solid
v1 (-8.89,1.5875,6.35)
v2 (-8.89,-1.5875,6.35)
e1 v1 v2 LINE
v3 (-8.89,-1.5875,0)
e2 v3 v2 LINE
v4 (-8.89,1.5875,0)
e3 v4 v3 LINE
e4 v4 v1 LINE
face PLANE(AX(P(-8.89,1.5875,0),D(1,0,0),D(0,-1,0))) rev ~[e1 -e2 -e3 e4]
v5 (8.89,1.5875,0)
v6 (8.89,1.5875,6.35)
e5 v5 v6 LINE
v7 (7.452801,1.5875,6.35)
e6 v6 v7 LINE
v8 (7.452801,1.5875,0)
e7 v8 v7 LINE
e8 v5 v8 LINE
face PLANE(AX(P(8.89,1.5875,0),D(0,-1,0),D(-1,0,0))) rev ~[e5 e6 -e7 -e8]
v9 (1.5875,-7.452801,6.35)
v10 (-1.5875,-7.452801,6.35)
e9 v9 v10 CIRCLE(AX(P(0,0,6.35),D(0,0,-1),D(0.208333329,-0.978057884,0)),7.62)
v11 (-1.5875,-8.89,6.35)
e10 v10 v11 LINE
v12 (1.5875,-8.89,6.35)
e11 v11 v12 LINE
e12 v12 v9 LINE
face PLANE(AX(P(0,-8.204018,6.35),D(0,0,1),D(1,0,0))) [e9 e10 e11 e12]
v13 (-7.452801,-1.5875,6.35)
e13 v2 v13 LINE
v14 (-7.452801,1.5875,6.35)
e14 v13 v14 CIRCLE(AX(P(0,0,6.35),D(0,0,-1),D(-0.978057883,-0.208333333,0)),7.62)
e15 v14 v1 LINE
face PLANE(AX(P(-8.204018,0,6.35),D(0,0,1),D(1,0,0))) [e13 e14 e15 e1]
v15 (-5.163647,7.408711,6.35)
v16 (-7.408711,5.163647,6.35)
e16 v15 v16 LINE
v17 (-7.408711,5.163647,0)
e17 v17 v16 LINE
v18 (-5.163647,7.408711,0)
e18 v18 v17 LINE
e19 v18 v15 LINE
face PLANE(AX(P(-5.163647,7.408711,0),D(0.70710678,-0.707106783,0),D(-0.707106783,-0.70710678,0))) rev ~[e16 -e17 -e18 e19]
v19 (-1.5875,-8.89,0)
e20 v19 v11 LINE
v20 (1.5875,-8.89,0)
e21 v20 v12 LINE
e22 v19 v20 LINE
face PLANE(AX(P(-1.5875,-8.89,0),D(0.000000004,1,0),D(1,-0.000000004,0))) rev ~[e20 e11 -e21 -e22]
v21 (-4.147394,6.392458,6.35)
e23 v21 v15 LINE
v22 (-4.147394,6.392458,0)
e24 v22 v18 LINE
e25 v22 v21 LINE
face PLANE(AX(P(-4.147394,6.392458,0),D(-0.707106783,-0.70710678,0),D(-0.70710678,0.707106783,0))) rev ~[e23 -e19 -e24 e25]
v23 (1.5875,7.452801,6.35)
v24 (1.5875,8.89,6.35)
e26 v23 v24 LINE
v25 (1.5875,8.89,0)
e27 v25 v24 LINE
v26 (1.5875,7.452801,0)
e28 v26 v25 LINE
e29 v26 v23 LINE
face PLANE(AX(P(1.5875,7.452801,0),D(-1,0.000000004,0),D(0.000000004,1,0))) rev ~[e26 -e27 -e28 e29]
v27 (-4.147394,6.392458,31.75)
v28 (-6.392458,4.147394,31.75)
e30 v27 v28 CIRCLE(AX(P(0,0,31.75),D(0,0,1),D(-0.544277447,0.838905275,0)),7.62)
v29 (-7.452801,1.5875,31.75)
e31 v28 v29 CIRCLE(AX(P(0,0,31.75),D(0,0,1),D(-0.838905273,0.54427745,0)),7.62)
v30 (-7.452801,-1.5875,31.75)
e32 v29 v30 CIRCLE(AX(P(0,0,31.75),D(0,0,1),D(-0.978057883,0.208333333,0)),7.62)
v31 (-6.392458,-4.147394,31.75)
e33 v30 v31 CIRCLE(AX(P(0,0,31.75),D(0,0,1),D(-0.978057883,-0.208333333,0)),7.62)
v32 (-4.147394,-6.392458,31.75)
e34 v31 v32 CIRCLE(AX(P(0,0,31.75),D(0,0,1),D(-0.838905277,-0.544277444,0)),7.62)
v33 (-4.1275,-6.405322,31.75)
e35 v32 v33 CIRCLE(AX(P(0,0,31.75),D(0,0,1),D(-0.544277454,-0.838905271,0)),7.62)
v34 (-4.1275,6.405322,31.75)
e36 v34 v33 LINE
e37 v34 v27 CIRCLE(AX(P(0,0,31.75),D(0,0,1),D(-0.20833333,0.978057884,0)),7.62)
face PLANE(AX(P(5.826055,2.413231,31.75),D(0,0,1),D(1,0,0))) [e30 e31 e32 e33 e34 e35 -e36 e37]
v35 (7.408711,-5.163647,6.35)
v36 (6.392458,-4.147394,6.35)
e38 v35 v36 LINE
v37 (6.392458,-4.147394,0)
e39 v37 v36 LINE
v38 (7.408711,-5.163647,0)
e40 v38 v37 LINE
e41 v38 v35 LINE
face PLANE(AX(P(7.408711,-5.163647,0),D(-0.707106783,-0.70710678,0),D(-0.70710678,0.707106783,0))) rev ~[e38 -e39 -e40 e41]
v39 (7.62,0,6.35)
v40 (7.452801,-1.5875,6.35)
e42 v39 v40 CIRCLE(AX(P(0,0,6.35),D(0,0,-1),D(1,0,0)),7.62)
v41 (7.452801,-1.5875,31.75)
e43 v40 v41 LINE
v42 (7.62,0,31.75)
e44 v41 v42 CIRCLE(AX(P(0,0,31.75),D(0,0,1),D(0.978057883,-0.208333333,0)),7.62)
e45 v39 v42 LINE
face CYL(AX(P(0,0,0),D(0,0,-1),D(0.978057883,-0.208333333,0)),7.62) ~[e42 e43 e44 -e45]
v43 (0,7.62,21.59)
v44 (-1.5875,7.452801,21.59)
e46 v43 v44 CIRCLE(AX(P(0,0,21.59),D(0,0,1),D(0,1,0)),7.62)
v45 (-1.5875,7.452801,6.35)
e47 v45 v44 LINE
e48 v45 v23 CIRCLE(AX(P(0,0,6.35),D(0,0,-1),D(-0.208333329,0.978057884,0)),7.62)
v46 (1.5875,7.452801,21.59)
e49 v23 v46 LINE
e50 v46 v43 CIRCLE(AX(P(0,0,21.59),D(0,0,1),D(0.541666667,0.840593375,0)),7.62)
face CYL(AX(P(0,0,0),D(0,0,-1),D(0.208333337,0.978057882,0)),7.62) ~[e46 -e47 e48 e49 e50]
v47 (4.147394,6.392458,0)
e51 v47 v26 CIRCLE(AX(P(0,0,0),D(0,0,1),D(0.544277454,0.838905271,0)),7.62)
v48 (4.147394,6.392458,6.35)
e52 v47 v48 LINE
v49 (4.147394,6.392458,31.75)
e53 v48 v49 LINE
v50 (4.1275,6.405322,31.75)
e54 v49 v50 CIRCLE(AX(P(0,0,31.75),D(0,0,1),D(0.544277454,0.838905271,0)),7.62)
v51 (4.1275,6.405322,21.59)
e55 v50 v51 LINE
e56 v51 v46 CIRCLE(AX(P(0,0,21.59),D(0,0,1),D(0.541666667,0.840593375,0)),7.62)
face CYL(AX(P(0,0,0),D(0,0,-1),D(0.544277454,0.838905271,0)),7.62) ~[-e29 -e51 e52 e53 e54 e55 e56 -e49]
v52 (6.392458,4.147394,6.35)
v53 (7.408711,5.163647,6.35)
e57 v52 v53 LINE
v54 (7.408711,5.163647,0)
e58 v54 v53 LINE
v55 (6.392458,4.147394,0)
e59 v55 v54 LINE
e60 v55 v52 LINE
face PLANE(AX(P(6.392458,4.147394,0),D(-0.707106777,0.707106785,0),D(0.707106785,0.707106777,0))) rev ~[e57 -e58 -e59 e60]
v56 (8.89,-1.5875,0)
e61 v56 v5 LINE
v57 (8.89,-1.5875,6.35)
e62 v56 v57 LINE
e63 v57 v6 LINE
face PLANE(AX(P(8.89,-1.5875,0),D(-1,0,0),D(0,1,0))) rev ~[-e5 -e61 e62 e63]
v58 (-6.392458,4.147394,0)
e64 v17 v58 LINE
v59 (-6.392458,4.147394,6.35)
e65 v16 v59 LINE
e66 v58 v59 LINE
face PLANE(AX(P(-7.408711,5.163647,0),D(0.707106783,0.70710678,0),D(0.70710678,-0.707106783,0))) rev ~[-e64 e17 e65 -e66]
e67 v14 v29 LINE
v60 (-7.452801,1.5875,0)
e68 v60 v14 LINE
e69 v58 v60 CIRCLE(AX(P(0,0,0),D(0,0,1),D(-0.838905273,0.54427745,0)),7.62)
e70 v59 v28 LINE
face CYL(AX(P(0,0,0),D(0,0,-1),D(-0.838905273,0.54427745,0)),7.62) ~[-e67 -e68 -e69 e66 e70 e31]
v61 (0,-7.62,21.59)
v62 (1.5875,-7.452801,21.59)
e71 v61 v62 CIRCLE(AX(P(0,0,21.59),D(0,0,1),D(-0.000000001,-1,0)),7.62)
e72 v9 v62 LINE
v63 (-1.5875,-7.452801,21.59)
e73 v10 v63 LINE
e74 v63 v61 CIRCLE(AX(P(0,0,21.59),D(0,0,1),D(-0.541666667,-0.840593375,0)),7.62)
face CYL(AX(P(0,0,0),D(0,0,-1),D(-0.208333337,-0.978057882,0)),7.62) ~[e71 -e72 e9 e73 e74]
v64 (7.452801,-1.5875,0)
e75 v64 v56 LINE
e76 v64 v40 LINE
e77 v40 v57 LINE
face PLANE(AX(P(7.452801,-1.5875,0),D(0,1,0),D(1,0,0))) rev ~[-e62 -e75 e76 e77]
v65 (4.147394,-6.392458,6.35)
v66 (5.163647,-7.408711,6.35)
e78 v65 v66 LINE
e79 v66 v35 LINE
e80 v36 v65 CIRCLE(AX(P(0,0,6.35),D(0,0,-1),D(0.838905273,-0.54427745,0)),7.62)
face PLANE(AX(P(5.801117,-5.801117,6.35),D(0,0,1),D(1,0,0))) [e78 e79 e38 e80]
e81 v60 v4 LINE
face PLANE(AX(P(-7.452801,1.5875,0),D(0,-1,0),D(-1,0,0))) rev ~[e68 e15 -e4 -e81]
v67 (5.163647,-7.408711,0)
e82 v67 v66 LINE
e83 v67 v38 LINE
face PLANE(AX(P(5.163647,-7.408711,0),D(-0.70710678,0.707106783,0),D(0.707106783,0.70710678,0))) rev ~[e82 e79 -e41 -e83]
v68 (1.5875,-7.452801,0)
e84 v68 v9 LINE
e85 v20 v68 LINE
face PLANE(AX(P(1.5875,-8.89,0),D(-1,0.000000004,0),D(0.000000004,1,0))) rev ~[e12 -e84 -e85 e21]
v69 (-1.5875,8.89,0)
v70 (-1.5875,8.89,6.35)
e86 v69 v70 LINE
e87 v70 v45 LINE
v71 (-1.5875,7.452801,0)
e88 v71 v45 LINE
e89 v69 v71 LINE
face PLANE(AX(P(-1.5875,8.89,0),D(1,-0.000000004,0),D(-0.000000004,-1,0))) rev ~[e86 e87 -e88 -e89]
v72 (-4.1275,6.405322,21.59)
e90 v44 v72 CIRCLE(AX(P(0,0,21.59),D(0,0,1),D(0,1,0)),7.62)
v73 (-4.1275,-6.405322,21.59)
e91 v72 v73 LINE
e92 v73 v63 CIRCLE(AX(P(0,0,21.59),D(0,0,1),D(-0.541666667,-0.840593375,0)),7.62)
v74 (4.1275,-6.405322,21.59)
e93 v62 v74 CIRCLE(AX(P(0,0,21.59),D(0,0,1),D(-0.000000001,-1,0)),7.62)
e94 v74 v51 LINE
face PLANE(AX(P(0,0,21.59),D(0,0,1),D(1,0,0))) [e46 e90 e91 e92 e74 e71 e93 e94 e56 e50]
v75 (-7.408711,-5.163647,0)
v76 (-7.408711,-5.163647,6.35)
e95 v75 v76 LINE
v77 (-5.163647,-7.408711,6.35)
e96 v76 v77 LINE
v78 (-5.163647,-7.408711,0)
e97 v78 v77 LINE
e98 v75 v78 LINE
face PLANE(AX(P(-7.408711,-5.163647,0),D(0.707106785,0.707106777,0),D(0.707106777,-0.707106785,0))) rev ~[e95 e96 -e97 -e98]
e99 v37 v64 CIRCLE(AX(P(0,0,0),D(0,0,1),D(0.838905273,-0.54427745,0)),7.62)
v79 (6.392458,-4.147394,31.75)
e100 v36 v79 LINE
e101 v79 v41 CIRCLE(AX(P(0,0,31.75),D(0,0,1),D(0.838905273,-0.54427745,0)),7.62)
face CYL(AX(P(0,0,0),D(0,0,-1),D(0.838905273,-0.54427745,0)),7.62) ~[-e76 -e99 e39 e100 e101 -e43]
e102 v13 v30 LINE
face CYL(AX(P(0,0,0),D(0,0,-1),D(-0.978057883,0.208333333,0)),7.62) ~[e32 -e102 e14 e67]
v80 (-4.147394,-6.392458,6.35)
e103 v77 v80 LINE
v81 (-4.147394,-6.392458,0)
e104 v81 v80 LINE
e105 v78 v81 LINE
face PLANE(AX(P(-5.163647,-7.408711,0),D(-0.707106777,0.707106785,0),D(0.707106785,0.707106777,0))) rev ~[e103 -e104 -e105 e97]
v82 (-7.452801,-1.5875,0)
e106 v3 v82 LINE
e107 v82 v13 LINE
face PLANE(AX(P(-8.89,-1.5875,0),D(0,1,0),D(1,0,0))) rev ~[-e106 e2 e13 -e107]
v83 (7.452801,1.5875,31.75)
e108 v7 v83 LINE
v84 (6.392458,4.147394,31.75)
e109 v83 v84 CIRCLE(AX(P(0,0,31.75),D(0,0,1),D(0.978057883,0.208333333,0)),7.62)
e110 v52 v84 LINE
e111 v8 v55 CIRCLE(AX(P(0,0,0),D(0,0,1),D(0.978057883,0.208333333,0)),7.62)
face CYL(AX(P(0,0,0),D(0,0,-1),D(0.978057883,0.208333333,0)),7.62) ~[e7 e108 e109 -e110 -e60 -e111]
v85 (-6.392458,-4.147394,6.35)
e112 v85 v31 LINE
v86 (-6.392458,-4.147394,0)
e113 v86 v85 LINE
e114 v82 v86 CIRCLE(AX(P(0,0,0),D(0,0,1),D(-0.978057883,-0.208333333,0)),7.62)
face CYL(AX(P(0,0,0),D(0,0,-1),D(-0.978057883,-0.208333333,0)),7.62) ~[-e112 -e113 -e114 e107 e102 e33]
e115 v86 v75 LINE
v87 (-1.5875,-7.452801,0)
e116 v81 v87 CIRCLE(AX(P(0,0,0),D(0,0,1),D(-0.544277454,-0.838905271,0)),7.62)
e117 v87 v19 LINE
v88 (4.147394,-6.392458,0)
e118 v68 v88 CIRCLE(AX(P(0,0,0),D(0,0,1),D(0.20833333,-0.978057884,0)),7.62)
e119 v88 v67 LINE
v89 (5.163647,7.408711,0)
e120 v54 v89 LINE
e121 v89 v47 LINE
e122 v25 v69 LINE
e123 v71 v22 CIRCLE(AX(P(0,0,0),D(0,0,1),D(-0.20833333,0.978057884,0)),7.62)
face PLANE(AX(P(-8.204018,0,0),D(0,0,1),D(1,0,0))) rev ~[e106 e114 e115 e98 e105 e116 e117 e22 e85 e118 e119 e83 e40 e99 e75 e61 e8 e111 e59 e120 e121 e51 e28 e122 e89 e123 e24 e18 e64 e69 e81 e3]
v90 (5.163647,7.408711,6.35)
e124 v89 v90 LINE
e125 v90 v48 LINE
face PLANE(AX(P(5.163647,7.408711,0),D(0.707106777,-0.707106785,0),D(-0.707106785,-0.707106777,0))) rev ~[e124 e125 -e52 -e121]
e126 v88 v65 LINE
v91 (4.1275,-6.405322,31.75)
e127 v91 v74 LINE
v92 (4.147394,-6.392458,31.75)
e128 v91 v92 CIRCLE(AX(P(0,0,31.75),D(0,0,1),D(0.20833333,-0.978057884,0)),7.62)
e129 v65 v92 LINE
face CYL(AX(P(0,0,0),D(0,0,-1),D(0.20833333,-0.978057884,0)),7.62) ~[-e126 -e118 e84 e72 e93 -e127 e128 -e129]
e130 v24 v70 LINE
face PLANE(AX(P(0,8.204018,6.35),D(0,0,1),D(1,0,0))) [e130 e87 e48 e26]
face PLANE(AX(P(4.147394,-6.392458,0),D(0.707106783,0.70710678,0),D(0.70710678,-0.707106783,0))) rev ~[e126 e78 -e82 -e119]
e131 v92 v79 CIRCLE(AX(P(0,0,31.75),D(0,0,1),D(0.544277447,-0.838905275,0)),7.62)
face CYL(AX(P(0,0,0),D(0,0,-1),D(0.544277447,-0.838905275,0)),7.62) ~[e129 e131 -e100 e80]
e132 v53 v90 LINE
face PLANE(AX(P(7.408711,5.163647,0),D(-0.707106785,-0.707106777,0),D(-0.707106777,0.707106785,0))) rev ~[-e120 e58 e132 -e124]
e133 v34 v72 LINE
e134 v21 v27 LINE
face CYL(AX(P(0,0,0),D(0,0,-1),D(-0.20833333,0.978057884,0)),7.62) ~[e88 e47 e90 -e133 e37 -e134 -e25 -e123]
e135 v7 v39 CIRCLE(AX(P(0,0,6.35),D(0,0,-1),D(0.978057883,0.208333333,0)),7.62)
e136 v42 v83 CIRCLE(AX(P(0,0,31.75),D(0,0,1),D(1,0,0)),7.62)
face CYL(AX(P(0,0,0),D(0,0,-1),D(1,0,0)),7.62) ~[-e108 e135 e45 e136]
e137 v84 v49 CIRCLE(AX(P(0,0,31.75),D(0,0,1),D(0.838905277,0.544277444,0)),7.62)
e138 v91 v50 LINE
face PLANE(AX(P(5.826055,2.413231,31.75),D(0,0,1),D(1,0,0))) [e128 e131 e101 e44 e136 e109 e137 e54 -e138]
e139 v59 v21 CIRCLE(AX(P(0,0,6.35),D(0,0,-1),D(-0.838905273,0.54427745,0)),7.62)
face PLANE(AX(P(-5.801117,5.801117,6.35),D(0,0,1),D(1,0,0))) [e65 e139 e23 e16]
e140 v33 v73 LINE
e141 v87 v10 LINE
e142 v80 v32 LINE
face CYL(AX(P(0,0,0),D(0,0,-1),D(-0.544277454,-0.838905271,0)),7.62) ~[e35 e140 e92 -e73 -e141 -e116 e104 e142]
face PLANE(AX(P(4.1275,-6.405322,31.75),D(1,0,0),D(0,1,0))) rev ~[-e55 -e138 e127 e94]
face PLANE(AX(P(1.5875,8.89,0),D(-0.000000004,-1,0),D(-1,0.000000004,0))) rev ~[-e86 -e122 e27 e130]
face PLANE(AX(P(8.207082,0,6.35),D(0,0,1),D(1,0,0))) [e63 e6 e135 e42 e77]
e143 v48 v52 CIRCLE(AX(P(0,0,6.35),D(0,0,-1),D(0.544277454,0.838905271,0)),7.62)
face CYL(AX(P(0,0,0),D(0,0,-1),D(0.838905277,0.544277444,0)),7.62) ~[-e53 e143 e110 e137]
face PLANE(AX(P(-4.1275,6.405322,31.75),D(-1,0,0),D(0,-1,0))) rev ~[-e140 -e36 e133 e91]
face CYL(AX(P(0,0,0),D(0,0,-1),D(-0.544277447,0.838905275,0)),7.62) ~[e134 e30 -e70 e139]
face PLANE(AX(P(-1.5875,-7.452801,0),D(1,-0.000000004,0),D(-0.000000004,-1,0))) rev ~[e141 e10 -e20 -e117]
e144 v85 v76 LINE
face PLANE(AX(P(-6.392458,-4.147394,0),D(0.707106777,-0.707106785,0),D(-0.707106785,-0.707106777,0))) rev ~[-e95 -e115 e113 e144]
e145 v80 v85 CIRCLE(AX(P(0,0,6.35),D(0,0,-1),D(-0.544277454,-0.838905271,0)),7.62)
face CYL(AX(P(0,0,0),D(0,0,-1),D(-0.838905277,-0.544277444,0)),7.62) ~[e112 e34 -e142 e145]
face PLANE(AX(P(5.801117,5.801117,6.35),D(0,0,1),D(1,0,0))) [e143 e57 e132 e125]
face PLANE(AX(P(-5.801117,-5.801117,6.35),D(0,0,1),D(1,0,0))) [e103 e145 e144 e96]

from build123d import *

# Parameters (mm, degrees)
F1_DEPTH = 31.75
F2_DEPTH = 6.35
F4_DEPTH = 10.16


with BuildPart() as f1:
    # F0 (on Top) → F1 (new body)
    with BuildSketch(Plane.XY):
        with BuildLine():
            Line((3.8325640626, 1.5875), (7.4528010674, 1.5875))
            ThreePointArc((7.4528010674, 1.5875), (7.0399620464, 2.9160477336), (6.3924582134, 4.1473941203))
            Line((6.3924582134, 4.1473941203), (3.8325640626, 1.5875))
        make_face()
        with BuildLine():
            Line((3.8325640626, 1.5875), (6.3924582134, 4.1473941203))
            ThreePointArc((6.3924582134, 4.1473941203), (5.3881537048, 5.3881536405), (4.1473941966, 6.392458164))
            Line((4.1473941966, 6.392458164), (1.5875000152, 3.8325640132))
            Line((1.5875000152, 3.8325640132), (1.5875000063, 1.5875))
            Line((1.5875000063, 1.5875), (3.8325640626, 1.5875))
        make_face()
        with BuildLine():
            Line((1.5875000152, 3.8325640132), (4.1473941966, 6.392458164))
            ThreePointArc((4.1473941966, 6.392458164), (2.9160477896, 7.0399620232), (1.5875000296, 7.4528010611))
            Line((1.5875000296, 7.4528010611), (1.5875000152, 3.8325640132))
        make_face()
        with BuildLine():
            Line((1.5875000152, 3.8325640132), (1.5875000296, 7.4528010611))
            ThreePointArc((1.5875000296, 7.4528010611), (3.03e-08, 7.62), (-1.5874999704, 7.4528010737))
            Line((-1.5874999704, 7.4528010737), (-1.5874999848, 3.8325640258))
            Line((-1.5874999848, 3.8325640258), (8.9e-09, 2.2450640258))
            Line((8.9e-09, 2.2450640258), (1.5875000152, 3.8325640132))
        make_face()
        with BuildLine():
            Line((-1.5874999848, 3.8325640258), (-1.5874999704, 7.4528010737))
            ThreePointArc((-1.5874999704, 7.4528010737), (-2.9160477336, 7.0399620464), (-4.1473941457, 6.392458197))
            Line((-4.1473941457, 6.392458197), (-1.5874999848, 3.8325640258))
        make_face()
        with BuildLine():
            Line((-1.5874999848, 3.8325640258), (-4.1473941457, 6.392458197))
            ThreePointArc((-4.1473941457, 6.392458197), (-5.3881536619, 5.3881536834), (-6.3924581805, 4.1473941712))
            Line((-6.3924581805, 4.1473941712), (-3.8325640195, 1.5875))
            Line((-3.8325640195, 1.5875), (-1.5874999937, 1.5875))
            Line((-1.5874999937, 1.5875), (-1.5874999848, 3.8325640258))
        make_face()
        with BuildLine():
            Line((-3.8325640195, 1.5875), (-6.3924581805, 4.1473941712))
            ThreePointArc((-6.3924581805, 4.1473941712), (-7.0399620348, 2.9160477616), (-7.4528010674, 1.5875))
            Line((-7.4528010674, 1.5875), (-3.8325640195, 1.5875))
        make_face()
        with BuildLine():
            Line((-2.2450640347, 8.9e-09), (-3.8325640195, 1.5875))
            Line((-3.8325640195, 1.5875), (-7.4528010674, 1.5875))
            ThreePointArc((-7.4528010674, 1.5875), (-7.62, 0), (-7.4528010674, -1.5875))
            Line((-7.4528010674, -1.5875), (-3.8325640626, -1.5875))
            Line((-3.8325640626, -1.5875), (-2.2450640347, 8.9e-09))
        make_face()
        with BuildLine():
            ThreePointArc((-7.4528010674, -1.5875), (-7.0399620464, -2.9160477336), (-6.3924582134, -4.1473941203))
            Line((-6.3924582134, -4.1473941203), (-3.8325640626, -1.5875))
            Line((-3.8325640626, -1.5875), (-7.4528010674, -1.5875))
        make_face()
        with BuildLine():
            ThreePointArc((-6.3924582134, -4.1473941203), (-5.3881537048, -5.3881536405), (-4.1473941966, -6.392458164))
            Line((-4.1473941966, -6.392458164), (-1.5875000152, -3.8325640132))
            Line((-1.5875000152, -3.8325640132), (-1.5875000063, -1.5875))
            Line((-1.5875000063, -1.5875), (-3.8325640626, -1.5875))
            Line((-3.8325640626, -1.5875), (-6.3924582134, -4.1473941203))
        make_face()
        with BuildLine():
            ThreePointArc((-4.1473941966, -6.392458164), (-2.9160477896, -7.0399620232), (-1.5875000296, -7.4528010611))
            Line((-1.5875000296, -7.4528010611), (-1.5875000152, -3.8325640132))
            Line((-1.5875000152, -3.8325640132), (-4.1473941966, -6.392458164))
        make_face()
        with BuildLine():
            ThreePointArc((-1.5875000296, -7.4528010611), (-3.03e-08, -7.62), (1.5874999704, -7.4528010737))
            Line((1.5874999704, -7.4528010737), (1.5874999848, -3.8325640258))
            Line((1.5874999848, -3.8325640258), (-8.9e-09, -2.2450640258))
            Line((-8.9e-09, -2.2450640258), (-1.5875000152, -3.8325640132))
            Line((-1.5875000152, -3.8325640132), (-1.5875000296, -7.4528010611))
        make_face()
        with BuildLine():
            ThreePointArc((1.5874999704, -7.4528010737), (2.9160477336, -7.0399620464), (4.1473941457, -6.392458197))
            Line((4.1473941457, -6.392458197), (1.5874999848, -3.8325640258))
            Line((1.5874999848, -3.8325640258), (1.5874999704, -7.4528010737))
        make_face()
        with BuildLine():
            ThreePointArc((4.1473941457, -6.392458197), (5.3881536619, -5.3881536834), (6.3924581805, -4.1473941712))
            Line((6.3924581805, -4.1473941712), (3.8325640195, -1.5875))
            Line((3.8325640195, -1.5875), (1.5874999937, -1.5875))
            Line((1.5874999937, -1.5875), (1.5874999848, -3.8325640258))
            Line((1.5874999848, -3.8325640258), (4.1473941457, -6.392458197))
        make_face()
        with BuildLine():
            ThreePointArc((6.3924581805, -4.1473941712), (7.0399620348, -2.9160477616), (7.4528010674, -1.5875))
            Line((7.4528010674, -1.5875), (3.8325640195, -1.5875))
            Line((3.8325640195, -1.5875), (6.3924581805, -4.1473941712))
        make_face()
        with BuildLine():
            ThreePointArc((7.4528010674, -1.5875), (7.5780849868, -0.7981402967), (7.62, 0))
            ThreePointArc((7.62, 0), (7.5780849868, 0.7981402967), (7.4528010674, 1.5875))
            Line((7.4528010674, 1.5875), (3.8325640626, 1.5875))
            Line((3.8325640626, 1.5875), (2.2450640347, -8.9e-09))
            Line((2.2450640347, -8.9e-09), (3.8325640195, -1.5875))
            Line((3.8325640195, -1.5875), (7.4528010674, -1.5875))
        make_face()
        Polygon((1.5874999848, -3.8325640258), (1.5874999937, -1.5875), (0.6575640247, -1.5875), (-8.9e-09, -2.2450640258), align=None)
        Polygon((1.5874999937, -1.5875), (3.8325640195, -1.5875), (2.2450640347, -8.9e-09), (1.5874999974, -0.6575640384), align=None)
        Polygon((2.2450640347, -8.9e-09), (3.8325640626, 1.5875), (1.5875000063, 1.5875), (1.5875000026, 0.6575640258), align=None)
        Polygon((0.6575640321, 1.5875), (1.5875000063, 1.5875), (1.5875000152, 3.8325640132), (8.9e-09, 2.2450640258), align=None)
        Polygon((-1.5874999974, 0.6575640384), (-1.5874999937, 1.5875), (-3.8325640195, 1.5875), (-2.2450640347, 8.9e-09), align=None)
        Polygon((-3.8325640626, -1.5875), (-1.5875000063, -1.5875), (-1.5875000026, -0.6575640258), (-2.2450640347, 8.9e-09), align=None)
        Polygon((-1.5875000152, -3.8325640132), (-8.9e-09, -2.2450640258), (-0.6575640321, -1.5875), (-1.5875000063, -1.5875), align=None)
        Polygon((-1.5875000063, -1.5875), (-0.6575640321, -1.5875), (-1.5875000026, -0.6575640258), align=None)
        Polygon((1.5875000026, 0.6575640258), (0.6575640321, 1.5875), (-0.6575640247, 1.5875), (-1.5874999974, 0.6575640384), (-1.5875000026, -0.6575640258), (-0.6575640321, -1.5875), (0.6575640247, -1.5875), (1.5874999974, -0.6575640384), align=None)
        Polygon((0.6575640247, -1.5875), (1.5874999937, -1.5875), (1.5874999974, -0.6575640384), align=None)
        Polygon((1.5874999974, -0.6575640384), (2.2450640347, -8.9e-09), (1.5875000026, 0.6575640258), align=None)
        Polygon((1.5875000026, 0.6575640258), (1.5875000063, 1.5875), (0.6575640321, 1.5875), align=None)
        Polygon((-0.6575640247, 1.5875), (8.9e-09, 2.2450640258), (-1.5874999848, 3.8325640258), (-1.5874999937, 1.5875), align=None)
        Polygon((-1.5874999974, 0.6575640384), (-0.6575640247, 1.5875), (-1.5874999937, 1.5875), align=None)
        Polygon((-0.6575640247, 1.5875), (0.6575640321, 1.5875), (8.9e-09, 2.2450640258), align=None)
        Polygon((-1.5875000026, -0.6575640258), (-1.5874999974, 0.6575640384), (-2.2450640347, 8.9e-09), align=None)
        Polygon((-8.9e-09, -2.2450640258), (0.6575640247, -1.5875), (-0.6575640321, -1.5875), align=None)
    extrude(amount=F1_DEPTH)

    # F0 (on Top) → F2 (join)
    with BuildSketch(Plane.XY):
        with BuildLine():
            ThreePointArc((-7.4528010674, -1.5875), (-7.62, 0), (-7.4528010674, 1.5875))
            Line((-7.4528010674, 1.5875), (-8.89, 1.5875))
            Line((-8.89, 1.5875), (-8.89, -1.5875))
            Line((-8.89, -1.5875), (-7.4528010674, -1.5875))
        make_face()
        with BuildLine():
            ThreePointArc((7.4528010674, 1.5875), (7.5780849868, 0.7981402967), (7.62, 0))
            ThreePointArc((7.62, 0), (7.5780849868, -0.7981402967), (7.4528010674, -1.5875))
            Line((7.4528010674, -1.5875), (8.89, -1.5875))
            Line((8.89, -1.5875), (8.89, 1.5875))
            Line((8.89, 1.5875), (7.4528010674, 1.5875))
        make_face()
        with BuildLine():
            Line((7.4087112896, -5.1636472843), (6.3924581805, -4.1473941712))
            ThreePointArc((6.3924581805, -4.1473941712), (5.3881536619, -5.3881536834), (4.1473941457, -6.392458197))
            Line((4.1473941457, -6.392458197), (5.1636472549, -7.4087113101))
            Line((5.1636472549, -7.4087113101), (7.4087112896, -5.1636472843))
        make_face()
        with BuildLine():
            Line((1.5874999647, -8.8900000063), (1.5874999704, -7.4528010737))
            ThreePointArc((1.5874999704, -7.4528010737), (-3.03e-08, -7.62), (-1.5875000296, -7.4528010611))
            Line((-1.5875000296, -7.4528010611), (-1.5875000353, -8.8899999937))
            Line((-1.5875000353, -8.8899999937), (1.5874999647, -8.8900000063))
        make_face()
        with BuildLine():
            Line((-5.1636473138, -7.4087112691), (-4.1473941966, -6.392458164))
            ThreePointArc((-4.1473941966, -6.392458164), (-5.3881537048, -5.3881536405), (-6.3924582134, -4.1473941203))
            Line((-6.3924582134, -4.1473941203), (-7.4087113307, -5.1636472254))
            Line((-7.4087113307, -5.1636472254), (-5.1636473138, -7.4087112691))
        make_face()
        with BuildLine():
            ThreePointArc((4.1473941966, 6.392458164), (5.3881537048, 5.3881536405), (6.3924582134, 4.1473941203))
            Line((6.3924582134, 4.1473941203), (7.4087113307, 5.1636472254))
            Line((7.4087113307, 5.1636472254), (5.1636473138, 7.4087112691))
            Line((5.1636473138, 7.4087112691), (4.1473941966, 6.392458164))
        make_face()
        with BuildLine():
            ThreePointArc((-1.5874999704, 7.4528010737), (3.03e-08, 7.62), (1.5875000296, 7.4528010611))
            Line((1.5875000296, 7.4528010611), (1.5875000353, 8.8899999937))
            Line((1.5875000353, 8.8899999937), (-1.5874999647, 8.8900000063))
            Line((-1.5874999647, 8.8900000063), (-1.5874999704, 7.4528010737))
        make_face()
        with BuildLine():
            ThreePointArc((-6.3924581805, 4.1473941712), (-5.3881536619, 5.3881536834), (-4.1473941457, 6.392458197))
            Line((-4.1473941457, 6.392458197), (-5.1636472549, 7.4087113101))
            Line((-5.1636472549, 7.4087113101), (-7.4087112896, 5.1636472843))
            Line((-7.4087112896, 5.1636472843), (-6.3924581805, 4.1473941712))
        make_face()
    extrude(amount=F2_DEPTH)

    # F3 (on face) → F4 (cut)
    with BuildSketch(Plane.XY.offset(31.75)):
        with BuildLine():
            ThreePointArc((4.1275, 6.4053215181), (2.1512612617, 7.3100256486), (0, 7.62))
            ThreePointArc((0, 7.62), (-2.1512612617, 7.3100256486), (-4.1275, 6.4053215181))
            Line((-4.1275, 6.4053215181), (-4.1275, -6.4053215181))
            ThreePointArc((-4.1275, -6.4053215181), (-2.1512612665, -7.3100256472), (-9.9e-09, -7.62))
            ThreePointArc((-9.9e-09, -7.62), (2.1512612569, -7.3100256501), (4.1275, -6.4053215181))
            Line((4.1275, -6.4053215181), (4.1275, 6.4053215181))
        make_face()
    extrude(amount=-F4_DEPTH, mode=Mode.SUBTRACT)


solid = f1.part
